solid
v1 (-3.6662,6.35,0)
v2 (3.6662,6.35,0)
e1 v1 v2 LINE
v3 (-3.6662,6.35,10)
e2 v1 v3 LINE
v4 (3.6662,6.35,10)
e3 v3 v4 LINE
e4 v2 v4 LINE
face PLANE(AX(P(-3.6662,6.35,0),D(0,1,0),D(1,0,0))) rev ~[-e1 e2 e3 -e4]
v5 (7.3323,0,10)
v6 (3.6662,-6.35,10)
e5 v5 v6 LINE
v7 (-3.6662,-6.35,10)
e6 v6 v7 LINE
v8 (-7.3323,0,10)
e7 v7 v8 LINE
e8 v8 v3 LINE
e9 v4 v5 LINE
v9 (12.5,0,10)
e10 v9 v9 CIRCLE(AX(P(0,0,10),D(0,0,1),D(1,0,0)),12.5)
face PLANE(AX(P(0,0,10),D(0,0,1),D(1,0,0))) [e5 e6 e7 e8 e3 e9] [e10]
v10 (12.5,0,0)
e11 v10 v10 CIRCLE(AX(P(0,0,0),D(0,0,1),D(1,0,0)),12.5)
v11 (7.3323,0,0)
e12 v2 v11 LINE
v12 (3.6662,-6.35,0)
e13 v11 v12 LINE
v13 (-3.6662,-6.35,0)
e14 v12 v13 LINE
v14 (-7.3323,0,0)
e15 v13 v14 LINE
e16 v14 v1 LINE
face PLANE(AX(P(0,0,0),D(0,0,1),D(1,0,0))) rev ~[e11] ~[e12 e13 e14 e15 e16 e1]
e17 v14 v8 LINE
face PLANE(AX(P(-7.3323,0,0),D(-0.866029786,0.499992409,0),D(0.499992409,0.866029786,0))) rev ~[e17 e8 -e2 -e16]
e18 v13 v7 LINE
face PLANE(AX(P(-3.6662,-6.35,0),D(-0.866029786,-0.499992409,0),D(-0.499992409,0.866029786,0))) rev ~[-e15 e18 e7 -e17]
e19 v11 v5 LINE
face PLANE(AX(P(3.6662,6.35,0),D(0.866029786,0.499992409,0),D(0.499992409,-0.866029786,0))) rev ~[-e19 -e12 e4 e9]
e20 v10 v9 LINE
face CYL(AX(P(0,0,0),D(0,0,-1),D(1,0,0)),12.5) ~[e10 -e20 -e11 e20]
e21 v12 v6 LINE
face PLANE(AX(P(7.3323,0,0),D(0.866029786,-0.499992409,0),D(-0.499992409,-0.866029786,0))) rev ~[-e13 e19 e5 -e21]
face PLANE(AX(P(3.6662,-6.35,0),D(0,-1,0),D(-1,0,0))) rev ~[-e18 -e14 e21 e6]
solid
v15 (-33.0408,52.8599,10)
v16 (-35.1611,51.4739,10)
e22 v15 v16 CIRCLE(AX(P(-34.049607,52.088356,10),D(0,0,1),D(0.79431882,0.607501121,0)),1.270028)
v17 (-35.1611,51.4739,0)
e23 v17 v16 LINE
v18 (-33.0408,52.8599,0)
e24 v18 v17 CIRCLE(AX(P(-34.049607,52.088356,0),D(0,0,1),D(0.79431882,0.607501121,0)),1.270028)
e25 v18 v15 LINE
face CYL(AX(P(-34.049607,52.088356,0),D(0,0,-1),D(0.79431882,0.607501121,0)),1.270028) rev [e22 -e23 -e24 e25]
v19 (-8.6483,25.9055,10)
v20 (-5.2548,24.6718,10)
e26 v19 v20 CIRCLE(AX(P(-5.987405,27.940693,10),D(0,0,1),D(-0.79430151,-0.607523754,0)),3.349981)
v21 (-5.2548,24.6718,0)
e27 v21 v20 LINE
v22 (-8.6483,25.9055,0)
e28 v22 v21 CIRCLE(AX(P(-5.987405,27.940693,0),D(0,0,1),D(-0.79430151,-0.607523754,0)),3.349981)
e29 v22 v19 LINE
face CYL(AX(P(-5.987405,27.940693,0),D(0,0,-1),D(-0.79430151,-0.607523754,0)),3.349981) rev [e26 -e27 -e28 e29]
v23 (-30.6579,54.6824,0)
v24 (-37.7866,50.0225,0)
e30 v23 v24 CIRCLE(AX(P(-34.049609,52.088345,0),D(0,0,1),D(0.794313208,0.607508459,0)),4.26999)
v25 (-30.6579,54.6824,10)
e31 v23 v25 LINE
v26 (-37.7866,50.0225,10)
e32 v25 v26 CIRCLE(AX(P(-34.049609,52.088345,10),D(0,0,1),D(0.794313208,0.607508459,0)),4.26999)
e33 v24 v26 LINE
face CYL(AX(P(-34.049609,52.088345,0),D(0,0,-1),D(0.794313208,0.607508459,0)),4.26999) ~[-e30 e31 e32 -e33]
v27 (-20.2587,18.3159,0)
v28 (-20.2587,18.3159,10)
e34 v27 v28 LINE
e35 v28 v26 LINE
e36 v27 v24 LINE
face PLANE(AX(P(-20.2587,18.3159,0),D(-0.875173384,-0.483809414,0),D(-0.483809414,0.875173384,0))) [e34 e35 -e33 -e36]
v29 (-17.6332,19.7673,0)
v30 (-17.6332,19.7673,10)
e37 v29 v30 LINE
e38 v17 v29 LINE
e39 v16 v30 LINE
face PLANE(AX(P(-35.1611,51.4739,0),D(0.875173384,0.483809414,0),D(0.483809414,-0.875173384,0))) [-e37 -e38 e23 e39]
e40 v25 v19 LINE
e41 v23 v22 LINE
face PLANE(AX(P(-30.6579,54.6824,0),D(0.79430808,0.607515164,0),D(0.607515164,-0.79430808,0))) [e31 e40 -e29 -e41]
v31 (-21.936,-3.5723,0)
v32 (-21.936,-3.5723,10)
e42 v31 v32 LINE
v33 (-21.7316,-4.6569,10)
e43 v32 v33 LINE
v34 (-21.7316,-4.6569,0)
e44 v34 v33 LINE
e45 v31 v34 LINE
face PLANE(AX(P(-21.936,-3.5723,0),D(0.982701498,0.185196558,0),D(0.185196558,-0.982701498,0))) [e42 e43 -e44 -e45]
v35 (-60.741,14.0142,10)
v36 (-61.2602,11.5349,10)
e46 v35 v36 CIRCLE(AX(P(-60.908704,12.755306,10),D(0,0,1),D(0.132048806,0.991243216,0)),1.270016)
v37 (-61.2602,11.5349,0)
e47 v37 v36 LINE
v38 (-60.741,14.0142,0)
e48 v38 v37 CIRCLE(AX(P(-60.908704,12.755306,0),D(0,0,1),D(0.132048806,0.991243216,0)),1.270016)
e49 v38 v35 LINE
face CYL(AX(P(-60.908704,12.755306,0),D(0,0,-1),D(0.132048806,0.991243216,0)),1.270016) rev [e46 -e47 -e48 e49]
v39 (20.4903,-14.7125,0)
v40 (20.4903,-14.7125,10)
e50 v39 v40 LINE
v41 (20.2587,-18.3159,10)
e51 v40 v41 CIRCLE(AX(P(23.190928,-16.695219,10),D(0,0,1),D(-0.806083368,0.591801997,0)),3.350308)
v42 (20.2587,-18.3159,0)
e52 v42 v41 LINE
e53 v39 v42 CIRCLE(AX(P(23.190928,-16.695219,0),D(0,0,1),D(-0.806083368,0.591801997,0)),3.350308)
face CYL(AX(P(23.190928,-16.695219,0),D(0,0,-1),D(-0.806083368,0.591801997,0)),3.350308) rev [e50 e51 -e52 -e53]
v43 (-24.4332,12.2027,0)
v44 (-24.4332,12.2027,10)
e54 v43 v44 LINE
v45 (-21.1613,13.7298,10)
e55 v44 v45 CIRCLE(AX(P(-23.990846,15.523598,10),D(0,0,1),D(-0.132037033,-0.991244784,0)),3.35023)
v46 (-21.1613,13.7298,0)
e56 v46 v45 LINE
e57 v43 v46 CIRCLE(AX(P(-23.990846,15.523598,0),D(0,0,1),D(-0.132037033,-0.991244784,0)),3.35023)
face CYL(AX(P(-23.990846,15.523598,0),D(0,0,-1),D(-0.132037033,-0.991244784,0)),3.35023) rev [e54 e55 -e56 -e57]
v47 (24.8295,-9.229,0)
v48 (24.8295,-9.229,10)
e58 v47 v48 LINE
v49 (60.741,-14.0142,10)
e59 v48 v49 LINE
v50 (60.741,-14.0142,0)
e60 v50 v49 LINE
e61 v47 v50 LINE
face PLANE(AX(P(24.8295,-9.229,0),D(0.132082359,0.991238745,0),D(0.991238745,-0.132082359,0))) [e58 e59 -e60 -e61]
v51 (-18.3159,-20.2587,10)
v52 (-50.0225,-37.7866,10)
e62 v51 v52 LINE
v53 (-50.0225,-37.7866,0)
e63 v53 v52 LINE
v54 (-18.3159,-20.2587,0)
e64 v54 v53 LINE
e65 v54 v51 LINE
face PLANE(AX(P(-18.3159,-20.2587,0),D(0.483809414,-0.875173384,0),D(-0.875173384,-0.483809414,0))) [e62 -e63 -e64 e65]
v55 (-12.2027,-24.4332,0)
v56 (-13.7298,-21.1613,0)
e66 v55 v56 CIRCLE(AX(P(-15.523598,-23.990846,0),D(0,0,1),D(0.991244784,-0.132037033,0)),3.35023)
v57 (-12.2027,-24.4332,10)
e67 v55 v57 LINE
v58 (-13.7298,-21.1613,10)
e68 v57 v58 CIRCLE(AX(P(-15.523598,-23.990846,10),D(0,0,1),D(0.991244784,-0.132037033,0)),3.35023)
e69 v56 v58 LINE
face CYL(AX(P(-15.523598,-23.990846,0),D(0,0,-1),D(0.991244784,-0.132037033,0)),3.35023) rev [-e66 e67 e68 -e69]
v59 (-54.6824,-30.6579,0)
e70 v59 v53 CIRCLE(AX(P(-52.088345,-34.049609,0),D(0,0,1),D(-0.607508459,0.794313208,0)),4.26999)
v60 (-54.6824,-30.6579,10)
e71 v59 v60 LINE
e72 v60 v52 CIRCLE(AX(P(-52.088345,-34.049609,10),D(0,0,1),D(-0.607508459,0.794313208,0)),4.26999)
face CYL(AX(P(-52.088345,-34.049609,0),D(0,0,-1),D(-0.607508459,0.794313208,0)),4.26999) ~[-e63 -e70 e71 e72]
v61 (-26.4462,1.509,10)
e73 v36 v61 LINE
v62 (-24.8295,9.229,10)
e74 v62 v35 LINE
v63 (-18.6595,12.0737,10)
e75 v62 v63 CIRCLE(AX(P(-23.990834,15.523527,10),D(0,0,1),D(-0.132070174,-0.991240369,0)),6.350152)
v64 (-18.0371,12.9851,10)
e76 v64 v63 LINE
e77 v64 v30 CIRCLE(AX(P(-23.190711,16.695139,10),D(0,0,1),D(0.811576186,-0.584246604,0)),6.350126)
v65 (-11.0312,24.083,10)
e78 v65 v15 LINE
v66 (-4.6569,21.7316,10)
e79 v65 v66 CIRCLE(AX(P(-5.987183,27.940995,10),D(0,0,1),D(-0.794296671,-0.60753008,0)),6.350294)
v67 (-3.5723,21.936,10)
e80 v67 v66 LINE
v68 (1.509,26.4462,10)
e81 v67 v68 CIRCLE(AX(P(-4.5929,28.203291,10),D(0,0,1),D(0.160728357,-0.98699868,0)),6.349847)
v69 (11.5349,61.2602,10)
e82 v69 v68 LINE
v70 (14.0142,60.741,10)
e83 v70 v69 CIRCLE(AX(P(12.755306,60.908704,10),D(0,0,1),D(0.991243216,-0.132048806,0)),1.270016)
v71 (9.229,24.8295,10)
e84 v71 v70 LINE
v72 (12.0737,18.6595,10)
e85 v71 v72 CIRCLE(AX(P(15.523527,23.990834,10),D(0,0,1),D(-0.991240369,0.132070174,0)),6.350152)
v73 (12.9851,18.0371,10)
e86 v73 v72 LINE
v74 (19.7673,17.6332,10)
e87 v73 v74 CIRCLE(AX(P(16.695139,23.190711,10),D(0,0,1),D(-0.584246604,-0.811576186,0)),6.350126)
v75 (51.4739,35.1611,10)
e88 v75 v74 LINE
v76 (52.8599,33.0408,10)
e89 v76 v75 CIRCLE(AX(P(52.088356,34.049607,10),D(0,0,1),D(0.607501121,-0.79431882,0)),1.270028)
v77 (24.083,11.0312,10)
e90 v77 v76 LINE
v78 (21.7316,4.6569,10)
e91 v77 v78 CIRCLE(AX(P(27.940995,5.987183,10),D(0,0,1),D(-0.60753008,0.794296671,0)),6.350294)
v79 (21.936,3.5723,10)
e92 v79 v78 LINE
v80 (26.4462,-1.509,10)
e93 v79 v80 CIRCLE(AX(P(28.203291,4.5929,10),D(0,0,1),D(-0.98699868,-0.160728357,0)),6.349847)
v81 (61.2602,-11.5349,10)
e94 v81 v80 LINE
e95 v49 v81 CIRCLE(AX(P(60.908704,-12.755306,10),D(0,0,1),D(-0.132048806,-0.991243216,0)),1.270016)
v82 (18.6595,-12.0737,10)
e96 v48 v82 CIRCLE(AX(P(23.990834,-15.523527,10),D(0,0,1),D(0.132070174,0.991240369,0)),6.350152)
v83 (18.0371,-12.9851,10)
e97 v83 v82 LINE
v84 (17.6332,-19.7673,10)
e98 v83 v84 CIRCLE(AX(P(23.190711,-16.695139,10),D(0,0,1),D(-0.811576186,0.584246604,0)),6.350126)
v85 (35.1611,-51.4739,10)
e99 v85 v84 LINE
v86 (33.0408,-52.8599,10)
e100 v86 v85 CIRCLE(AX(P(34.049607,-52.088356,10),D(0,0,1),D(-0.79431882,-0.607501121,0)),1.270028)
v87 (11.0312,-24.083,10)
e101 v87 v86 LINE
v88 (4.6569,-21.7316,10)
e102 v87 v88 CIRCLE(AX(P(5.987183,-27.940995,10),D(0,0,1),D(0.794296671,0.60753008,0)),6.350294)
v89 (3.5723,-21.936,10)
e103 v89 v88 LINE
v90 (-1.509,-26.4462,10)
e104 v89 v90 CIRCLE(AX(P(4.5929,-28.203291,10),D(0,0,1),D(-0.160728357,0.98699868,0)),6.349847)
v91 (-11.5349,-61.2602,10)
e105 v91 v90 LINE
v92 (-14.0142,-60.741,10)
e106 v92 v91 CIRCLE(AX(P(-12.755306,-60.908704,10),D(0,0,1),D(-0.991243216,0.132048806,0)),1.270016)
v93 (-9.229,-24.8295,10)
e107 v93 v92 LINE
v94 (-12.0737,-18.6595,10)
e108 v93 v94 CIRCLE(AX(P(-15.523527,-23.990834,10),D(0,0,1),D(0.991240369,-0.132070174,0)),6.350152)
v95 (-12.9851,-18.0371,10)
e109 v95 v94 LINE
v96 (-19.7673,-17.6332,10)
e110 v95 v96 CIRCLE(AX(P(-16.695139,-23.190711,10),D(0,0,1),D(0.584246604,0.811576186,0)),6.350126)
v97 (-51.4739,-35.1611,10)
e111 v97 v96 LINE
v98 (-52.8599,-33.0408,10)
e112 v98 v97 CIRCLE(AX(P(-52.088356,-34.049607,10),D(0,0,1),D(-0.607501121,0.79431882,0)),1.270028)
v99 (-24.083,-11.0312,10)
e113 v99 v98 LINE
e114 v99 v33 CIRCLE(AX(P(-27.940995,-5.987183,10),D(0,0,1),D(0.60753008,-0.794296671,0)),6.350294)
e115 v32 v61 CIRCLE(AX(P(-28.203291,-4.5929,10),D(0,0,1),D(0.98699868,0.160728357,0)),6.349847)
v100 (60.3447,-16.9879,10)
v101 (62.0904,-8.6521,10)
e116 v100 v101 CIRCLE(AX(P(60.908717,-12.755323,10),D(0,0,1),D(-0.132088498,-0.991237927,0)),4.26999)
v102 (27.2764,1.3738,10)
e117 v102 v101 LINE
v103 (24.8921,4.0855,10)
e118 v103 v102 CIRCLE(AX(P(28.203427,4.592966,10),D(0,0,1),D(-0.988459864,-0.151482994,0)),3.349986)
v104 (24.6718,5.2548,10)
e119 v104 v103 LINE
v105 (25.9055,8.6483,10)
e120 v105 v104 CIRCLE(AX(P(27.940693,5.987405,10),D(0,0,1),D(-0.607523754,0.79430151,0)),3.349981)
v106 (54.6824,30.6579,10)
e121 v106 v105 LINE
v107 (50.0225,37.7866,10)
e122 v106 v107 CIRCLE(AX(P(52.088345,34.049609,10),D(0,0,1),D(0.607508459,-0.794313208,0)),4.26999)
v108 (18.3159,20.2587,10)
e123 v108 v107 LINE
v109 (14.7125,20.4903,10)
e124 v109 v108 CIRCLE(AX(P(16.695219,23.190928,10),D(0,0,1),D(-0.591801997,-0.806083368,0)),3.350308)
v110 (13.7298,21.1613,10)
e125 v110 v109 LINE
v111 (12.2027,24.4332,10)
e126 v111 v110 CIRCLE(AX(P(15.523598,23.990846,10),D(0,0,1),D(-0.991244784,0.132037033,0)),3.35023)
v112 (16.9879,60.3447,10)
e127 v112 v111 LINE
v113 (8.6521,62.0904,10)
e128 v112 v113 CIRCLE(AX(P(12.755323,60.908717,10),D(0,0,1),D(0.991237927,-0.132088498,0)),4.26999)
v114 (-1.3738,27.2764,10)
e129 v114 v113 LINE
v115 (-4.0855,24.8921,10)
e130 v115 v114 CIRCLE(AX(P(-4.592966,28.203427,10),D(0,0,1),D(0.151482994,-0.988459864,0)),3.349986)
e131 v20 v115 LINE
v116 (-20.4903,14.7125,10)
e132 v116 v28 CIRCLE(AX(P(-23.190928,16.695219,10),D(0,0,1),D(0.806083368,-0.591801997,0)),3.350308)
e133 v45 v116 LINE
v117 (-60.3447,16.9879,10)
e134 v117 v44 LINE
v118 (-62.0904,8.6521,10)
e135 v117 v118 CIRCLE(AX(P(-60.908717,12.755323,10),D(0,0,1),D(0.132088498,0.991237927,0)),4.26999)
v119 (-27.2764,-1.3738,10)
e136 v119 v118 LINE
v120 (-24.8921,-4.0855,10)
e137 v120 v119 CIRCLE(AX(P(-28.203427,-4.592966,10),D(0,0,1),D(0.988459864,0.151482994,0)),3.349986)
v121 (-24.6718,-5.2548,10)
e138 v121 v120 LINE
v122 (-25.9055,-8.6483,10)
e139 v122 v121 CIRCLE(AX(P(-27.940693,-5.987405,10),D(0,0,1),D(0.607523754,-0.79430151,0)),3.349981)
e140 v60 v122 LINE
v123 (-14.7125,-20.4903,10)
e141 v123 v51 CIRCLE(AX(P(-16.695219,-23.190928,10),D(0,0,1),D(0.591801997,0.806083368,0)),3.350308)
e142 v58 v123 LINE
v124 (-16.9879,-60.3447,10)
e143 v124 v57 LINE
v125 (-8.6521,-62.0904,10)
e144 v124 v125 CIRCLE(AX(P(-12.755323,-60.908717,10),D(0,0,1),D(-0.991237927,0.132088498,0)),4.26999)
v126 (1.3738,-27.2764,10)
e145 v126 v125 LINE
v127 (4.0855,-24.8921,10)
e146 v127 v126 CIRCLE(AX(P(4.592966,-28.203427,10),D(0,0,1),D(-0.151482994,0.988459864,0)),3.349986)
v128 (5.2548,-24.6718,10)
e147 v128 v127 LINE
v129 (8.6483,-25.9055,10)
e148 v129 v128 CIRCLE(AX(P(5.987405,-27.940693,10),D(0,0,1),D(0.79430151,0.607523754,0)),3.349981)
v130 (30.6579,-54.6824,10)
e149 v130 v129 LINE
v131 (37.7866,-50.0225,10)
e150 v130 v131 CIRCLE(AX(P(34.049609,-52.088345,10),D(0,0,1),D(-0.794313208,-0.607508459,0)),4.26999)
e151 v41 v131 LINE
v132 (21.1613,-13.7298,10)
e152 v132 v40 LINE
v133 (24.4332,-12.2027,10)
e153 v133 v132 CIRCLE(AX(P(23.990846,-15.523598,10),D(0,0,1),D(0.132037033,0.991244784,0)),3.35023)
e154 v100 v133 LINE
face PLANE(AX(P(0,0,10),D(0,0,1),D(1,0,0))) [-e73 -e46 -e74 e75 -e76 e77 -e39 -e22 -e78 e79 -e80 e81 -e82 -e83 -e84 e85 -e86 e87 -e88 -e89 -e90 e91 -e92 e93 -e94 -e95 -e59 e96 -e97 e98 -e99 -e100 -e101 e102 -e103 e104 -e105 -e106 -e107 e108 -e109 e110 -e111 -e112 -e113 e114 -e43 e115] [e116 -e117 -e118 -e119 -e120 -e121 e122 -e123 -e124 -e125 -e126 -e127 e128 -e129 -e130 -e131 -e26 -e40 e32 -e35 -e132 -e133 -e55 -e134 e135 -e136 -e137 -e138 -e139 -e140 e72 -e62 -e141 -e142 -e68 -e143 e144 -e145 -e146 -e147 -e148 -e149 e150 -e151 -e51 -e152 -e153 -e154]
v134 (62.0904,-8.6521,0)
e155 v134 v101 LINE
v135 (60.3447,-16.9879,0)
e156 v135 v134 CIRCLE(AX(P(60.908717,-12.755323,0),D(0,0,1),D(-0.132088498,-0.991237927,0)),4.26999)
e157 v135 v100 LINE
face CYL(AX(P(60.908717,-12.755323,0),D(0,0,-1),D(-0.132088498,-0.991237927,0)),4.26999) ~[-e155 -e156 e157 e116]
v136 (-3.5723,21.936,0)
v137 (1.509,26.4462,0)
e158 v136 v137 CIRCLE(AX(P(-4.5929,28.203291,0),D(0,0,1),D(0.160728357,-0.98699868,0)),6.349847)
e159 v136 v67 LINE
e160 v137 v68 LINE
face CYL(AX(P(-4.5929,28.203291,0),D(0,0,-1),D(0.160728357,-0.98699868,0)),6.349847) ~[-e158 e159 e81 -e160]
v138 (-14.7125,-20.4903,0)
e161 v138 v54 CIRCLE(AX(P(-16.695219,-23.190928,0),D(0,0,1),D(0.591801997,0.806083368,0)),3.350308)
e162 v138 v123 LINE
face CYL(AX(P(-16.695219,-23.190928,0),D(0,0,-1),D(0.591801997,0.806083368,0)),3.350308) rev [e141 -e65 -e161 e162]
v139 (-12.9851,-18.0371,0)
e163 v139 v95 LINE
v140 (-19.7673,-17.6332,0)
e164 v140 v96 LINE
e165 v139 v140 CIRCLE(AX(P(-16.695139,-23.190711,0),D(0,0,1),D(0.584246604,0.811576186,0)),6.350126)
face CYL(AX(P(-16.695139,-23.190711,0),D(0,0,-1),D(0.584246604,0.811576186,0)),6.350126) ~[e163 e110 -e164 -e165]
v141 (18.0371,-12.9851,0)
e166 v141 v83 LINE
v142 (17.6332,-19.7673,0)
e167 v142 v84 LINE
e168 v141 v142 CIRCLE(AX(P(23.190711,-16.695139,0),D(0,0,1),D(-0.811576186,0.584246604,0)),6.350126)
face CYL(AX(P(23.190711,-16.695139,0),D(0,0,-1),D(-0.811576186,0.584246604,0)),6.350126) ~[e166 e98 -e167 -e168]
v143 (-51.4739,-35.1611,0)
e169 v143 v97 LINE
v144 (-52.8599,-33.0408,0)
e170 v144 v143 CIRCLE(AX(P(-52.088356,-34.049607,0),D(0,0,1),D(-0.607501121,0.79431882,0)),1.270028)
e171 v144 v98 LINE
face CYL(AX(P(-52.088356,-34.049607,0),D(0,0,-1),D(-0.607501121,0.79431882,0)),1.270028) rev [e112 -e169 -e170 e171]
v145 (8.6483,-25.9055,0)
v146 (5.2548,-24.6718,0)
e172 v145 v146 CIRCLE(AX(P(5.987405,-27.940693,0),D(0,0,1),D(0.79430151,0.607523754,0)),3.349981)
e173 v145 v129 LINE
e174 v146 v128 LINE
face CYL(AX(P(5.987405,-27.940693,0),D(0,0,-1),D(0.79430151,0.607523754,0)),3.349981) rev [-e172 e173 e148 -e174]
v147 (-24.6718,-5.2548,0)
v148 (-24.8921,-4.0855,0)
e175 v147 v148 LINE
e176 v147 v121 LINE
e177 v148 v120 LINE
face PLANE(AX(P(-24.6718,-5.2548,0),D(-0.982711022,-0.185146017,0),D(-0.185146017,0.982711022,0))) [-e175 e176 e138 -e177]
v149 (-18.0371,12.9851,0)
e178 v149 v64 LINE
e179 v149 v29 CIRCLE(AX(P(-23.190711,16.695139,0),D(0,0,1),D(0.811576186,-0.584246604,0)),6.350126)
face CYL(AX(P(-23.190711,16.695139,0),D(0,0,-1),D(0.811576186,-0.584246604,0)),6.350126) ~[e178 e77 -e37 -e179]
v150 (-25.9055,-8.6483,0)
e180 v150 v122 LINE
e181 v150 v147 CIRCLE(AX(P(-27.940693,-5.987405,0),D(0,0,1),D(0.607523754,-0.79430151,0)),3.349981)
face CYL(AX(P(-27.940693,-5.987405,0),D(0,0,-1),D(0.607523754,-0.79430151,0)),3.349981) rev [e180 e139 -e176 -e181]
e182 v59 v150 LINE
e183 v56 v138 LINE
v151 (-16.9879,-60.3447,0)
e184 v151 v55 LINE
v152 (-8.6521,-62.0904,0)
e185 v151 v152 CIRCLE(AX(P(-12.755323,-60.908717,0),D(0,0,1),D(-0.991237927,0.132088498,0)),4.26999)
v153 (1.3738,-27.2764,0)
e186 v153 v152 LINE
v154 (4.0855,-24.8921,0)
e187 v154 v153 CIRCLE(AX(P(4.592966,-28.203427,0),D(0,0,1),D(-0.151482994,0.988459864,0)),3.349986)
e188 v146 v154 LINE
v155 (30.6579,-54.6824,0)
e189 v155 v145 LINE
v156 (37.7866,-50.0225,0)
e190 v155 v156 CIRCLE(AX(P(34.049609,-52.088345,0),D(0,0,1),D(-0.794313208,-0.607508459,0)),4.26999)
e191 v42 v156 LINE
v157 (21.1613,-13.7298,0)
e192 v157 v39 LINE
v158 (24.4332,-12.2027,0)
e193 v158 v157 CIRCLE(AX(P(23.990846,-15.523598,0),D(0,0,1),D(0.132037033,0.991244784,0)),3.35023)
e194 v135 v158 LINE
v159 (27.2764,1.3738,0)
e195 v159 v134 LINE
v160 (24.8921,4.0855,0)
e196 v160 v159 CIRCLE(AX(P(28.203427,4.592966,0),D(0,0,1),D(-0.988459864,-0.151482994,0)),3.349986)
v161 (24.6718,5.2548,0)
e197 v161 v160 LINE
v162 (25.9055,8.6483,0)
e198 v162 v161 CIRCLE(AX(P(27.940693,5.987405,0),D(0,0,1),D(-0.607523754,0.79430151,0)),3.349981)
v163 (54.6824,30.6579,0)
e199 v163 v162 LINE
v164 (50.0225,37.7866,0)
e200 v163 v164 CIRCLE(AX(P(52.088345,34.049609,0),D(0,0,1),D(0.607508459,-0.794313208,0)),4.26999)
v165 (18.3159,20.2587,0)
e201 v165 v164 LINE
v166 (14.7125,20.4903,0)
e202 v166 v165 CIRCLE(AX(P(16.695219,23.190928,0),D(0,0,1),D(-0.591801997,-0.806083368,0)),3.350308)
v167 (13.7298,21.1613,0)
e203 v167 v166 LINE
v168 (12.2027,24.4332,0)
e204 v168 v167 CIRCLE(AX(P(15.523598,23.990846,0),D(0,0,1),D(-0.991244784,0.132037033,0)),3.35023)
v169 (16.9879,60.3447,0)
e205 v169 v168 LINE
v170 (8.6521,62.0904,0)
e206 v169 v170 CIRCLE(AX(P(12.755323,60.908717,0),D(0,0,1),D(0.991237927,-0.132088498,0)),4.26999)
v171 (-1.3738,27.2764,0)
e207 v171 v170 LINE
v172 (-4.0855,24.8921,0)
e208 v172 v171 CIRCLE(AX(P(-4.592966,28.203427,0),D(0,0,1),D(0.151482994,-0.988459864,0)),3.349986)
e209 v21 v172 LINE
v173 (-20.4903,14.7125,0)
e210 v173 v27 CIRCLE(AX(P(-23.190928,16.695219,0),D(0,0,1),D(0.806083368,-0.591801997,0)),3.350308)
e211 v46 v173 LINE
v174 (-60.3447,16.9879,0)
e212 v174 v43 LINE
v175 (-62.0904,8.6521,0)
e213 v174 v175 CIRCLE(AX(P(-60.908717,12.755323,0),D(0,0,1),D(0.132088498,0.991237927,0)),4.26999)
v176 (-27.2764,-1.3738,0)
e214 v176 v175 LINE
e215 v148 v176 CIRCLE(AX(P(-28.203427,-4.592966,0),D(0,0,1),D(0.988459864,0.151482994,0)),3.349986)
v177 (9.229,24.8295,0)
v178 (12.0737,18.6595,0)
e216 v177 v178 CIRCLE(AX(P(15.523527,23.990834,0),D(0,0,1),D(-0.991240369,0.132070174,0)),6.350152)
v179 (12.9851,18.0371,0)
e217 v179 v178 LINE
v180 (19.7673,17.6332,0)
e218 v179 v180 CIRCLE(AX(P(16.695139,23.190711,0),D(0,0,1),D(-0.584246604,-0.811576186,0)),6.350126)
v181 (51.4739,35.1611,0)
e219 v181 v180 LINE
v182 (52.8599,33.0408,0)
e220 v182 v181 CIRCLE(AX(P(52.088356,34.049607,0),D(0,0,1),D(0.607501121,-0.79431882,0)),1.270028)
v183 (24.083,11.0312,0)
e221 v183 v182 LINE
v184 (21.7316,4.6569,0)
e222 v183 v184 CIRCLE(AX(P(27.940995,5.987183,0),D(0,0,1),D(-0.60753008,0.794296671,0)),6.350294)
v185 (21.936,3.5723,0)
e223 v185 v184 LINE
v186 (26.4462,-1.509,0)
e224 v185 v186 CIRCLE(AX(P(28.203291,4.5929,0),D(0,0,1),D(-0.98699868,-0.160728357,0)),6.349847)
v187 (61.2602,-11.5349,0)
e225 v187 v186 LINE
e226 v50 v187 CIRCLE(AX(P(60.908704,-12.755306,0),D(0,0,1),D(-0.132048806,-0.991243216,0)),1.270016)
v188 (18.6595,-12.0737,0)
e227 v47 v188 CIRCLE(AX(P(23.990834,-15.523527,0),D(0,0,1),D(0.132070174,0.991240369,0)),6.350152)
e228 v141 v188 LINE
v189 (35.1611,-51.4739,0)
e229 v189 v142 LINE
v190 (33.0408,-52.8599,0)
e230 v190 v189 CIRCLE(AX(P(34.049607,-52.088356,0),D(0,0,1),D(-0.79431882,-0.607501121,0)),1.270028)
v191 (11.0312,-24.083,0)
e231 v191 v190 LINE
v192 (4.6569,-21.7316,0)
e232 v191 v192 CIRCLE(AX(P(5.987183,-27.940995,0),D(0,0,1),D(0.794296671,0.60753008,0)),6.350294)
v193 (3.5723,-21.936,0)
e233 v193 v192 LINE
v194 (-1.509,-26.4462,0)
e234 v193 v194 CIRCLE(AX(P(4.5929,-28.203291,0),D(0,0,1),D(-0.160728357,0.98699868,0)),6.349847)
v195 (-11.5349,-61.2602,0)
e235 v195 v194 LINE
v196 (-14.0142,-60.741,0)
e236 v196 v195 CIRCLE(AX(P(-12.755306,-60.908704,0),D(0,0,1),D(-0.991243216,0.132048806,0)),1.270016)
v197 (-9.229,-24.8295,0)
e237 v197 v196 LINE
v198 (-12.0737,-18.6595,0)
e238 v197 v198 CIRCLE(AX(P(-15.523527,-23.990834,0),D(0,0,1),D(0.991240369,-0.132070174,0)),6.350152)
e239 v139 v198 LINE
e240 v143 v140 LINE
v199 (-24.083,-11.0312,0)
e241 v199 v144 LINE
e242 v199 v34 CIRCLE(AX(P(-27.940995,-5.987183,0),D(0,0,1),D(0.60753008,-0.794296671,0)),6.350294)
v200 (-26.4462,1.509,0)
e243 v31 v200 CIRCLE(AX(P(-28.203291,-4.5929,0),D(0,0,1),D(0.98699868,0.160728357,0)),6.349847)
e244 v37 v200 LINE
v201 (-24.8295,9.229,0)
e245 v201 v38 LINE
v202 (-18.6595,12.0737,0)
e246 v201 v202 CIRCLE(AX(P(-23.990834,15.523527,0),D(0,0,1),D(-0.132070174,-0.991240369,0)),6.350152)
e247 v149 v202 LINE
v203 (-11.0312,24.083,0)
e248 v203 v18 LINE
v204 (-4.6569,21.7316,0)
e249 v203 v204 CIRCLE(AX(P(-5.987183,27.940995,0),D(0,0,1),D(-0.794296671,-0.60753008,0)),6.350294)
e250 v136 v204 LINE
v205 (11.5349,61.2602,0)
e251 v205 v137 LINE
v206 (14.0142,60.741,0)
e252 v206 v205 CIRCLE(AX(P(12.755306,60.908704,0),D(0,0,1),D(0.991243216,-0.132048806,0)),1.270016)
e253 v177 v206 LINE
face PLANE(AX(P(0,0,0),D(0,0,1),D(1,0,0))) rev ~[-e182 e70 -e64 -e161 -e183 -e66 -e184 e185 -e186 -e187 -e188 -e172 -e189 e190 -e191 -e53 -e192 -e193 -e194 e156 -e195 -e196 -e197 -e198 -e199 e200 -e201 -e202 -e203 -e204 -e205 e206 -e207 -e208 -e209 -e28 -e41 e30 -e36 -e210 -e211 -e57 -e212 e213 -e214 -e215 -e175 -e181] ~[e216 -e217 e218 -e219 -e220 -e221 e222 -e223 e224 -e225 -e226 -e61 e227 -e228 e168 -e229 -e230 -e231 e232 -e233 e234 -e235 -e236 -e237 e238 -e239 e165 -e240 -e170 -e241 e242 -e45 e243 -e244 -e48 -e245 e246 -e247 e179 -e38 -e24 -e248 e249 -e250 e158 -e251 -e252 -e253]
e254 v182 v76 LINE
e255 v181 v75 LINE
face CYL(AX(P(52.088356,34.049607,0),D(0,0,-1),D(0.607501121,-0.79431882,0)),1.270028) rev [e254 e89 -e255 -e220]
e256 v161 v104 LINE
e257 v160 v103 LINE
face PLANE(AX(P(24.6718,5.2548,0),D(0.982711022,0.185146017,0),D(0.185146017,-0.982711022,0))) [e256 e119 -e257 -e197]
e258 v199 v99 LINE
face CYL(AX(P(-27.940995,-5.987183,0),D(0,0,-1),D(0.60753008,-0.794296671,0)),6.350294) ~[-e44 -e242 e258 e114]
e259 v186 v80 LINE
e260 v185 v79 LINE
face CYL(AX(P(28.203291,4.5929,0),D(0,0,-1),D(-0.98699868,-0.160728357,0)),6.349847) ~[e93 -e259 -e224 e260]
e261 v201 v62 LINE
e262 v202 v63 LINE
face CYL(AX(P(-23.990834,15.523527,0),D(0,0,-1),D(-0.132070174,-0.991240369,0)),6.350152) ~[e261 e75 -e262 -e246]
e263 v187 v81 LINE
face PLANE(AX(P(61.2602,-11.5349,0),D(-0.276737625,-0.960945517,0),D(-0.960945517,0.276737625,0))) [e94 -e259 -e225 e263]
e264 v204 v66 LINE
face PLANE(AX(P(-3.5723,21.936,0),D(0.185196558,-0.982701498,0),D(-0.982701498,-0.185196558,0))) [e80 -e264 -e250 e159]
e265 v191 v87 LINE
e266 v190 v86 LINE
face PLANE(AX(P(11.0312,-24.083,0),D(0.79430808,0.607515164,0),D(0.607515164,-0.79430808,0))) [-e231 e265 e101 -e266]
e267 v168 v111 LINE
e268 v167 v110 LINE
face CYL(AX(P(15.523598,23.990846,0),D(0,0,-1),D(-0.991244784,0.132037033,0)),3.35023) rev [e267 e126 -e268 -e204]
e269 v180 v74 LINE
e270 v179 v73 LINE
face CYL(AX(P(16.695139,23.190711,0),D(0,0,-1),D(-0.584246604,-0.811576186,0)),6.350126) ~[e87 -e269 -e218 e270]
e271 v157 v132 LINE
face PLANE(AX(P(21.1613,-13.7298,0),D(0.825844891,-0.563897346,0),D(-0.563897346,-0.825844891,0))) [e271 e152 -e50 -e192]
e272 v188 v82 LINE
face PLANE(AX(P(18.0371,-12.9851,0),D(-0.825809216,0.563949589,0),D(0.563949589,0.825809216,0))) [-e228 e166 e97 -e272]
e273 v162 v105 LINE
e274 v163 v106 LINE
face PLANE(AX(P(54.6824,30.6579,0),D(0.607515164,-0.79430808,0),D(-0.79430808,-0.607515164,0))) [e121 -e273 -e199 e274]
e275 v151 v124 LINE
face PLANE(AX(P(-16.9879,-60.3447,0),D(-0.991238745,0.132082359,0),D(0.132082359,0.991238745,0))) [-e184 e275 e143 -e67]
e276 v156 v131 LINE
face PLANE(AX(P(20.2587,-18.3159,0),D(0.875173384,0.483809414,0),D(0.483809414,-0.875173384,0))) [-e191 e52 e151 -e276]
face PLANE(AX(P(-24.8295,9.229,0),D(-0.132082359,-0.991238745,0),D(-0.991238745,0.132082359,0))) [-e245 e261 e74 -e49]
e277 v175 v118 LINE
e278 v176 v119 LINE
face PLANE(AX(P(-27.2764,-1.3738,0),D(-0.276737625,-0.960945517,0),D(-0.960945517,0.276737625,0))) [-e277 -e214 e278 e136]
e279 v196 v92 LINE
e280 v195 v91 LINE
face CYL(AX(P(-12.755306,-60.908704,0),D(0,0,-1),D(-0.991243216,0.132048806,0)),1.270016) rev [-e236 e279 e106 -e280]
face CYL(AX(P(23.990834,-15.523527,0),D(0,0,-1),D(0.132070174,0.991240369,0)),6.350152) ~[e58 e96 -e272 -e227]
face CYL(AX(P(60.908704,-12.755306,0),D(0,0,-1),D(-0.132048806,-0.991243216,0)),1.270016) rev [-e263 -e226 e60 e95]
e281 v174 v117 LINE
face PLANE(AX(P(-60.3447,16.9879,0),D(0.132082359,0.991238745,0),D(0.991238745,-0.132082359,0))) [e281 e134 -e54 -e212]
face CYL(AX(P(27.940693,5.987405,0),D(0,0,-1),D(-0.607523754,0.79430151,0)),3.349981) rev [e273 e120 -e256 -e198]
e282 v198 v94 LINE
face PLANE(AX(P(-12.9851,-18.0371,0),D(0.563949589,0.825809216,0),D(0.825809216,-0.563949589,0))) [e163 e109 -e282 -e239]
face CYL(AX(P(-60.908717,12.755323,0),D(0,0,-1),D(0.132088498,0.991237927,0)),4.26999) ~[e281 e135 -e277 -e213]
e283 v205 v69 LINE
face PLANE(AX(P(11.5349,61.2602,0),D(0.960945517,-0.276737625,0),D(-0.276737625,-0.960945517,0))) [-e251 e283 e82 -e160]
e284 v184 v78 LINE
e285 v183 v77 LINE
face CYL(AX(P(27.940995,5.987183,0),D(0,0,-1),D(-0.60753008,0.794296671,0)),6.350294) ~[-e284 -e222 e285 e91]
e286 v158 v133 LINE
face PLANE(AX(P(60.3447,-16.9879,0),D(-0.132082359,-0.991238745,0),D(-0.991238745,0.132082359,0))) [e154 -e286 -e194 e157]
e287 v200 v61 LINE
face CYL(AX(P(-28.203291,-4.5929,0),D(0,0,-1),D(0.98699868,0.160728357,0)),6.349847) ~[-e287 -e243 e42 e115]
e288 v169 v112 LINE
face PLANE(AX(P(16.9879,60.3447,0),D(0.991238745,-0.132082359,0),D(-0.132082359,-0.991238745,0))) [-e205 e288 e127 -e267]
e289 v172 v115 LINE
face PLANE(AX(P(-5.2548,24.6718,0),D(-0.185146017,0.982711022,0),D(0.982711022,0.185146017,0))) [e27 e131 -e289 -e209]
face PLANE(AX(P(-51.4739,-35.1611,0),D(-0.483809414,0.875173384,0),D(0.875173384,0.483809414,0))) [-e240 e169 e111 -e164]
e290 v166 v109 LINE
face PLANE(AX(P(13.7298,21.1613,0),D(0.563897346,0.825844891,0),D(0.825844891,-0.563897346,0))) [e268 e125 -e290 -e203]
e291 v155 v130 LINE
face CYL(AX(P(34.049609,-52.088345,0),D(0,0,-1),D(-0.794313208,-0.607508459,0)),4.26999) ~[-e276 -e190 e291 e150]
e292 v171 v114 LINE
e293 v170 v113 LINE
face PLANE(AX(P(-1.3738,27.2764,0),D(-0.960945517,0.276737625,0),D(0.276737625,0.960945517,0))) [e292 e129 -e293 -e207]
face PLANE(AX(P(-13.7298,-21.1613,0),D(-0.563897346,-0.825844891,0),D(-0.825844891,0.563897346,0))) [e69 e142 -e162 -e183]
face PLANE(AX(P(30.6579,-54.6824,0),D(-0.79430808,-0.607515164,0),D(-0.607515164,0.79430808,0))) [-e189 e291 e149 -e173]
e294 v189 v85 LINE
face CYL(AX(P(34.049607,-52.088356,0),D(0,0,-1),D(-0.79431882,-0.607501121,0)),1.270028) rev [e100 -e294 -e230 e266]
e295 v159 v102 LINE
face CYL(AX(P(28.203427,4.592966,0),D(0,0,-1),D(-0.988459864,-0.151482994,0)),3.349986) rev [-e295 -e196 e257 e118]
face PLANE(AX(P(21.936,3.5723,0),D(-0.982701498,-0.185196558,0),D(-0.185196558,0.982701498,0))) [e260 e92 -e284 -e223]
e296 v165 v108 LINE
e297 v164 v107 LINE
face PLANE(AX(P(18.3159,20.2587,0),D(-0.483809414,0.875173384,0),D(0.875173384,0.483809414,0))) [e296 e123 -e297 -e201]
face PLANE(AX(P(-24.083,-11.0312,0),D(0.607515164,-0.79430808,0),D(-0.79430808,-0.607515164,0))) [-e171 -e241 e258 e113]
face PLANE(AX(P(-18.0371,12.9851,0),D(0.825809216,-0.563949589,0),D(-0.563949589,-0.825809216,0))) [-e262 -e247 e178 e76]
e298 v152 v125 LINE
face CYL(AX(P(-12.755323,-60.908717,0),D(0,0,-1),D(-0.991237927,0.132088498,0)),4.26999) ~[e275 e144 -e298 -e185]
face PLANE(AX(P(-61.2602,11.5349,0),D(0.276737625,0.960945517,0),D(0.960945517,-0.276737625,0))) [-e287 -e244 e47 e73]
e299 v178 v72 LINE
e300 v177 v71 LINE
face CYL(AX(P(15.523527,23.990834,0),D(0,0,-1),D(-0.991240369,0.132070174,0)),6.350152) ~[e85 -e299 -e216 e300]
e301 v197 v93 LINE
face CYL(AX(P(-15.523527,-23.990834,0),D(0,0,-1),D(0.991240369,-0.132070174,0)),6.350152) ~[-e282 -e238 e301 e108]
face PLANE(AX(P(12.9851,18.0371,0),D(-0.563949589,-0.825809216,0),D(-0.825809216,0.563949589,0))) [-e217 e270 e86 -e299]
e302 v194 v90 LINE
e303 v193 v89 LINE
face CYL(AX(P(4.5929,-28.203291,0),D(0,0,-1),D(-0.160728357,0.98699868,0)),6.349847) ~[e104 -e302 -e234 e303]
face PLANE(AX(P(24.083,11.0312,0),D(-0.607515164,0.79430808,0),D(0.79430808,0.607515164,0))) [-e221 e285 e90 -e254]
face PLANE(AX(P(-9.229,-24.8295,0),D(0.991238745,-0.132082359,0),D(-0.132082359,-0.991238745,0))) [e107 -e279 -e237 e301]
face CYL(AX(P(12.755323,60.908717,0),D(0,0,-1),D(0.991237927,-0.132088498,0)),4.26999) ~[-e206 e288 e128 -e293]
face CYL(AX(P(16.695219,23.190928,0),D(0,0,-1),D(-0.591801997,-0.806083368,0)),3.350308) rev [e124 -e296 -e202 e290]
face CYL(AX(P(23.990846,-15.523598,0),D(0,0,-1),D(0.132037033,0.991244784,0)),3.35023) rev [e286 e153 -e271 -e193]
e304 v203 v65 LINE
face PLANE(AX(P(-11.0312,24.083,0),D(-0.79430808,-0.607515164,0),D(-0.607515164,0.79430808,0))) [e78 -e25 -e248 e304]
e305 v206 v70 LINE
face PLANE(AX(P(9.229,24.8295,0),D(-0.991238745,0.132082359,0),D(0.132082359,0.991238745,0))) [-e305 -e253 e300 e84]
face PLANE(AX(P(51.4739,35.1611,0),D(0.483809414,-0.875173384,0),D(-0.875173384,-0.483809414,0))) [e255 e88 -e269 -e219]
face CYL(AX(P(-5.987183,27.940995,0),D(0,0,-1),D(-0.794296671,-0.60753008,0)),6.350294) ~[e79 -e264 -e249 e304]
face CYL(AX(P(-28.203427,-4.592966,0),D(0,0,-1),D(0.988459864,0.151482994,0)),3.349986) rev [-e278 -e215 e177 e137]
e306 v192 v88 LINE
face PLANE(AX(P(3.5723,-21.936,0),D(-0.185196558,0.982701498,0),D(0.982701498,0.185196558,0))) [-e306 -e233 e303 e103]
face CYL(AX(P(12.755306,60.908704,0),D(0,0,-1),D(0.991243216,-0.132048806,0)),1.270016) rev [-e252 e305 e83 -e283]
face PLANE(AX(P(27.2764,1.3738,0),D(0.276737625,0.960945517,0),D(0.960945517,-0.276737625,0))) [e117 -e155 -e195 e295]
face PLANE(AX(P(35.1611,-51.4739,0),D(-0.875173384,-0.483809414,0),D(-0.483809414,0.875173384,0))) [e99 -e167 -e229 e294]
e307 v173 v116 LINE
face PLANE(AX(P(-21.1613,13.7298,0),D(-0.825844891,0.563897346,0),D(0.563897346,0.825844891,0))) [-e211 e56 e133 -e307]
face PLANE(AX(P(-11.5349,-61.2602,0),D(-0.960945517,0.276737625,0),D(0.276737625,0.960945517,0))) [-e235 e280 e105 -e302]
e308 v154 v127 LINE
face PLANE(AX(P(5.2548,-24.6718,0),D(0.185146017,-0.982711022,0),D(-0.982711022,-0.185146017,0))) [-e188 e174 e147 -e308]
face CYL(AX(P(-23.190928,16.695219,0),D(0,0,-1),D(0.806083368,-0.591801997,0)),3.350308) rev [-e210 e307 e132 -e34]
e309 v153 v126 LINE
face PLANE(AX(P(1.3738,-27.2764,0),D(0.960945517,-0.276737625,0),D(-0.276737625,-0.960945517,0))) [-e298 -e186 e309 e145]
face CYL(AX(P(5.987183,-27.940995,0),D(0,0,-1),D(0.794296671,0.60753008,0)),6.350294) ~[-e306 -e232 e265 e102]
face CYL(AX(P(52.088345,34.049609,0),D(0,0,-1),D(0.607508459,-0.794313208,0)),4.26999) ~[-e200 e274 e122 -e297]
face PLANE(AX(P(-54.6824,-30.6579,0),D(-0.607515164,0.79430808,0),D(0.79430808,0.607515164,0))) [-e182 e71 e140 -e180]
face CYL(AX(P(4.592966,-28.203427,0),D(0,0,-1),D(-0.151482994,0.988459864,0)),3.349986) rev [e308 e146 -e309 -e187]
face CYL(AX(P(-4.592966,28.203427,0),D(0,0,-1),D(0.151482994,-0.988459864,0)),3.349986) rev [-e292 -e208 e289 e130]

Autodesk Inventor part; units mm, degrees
ref_plane "YZ Plane" through (0, 0, 0) normal (1, 0, 0) x (0, 1, 0)
ref_plane "XZ Plane" through (0, 0, 0) normal (0, 1, 0) x (-1, 0, 0)
ref_plane "XY Plane" through (0, 0, 0) normal (0, 0, 1) x (1, 0, 0)
sketch "Esboço1" plane through (0, 0, 0) normal (0, 0, 1) x (1, 0, 0)
  line L0 (51.4739, 35.1611) -> (19.7673, 17.6332) projected
  arc A0 (12.9851, 18.0371) -> (19.7673, 17.6332) centre (16.6951, 23.1906) ccw projected
  line L1 (12.9851, 18.0371) -> (12.0737, 18.6595) projected
  arc A1 (9.229, 24.8295) -> (12.0737, 18.6595) centre (15.5233, 23.9908) ccw projected
  line L2 (9.229, 24.8295) -> (14.0142, 60.741) projected
  arc A2 (14.0142, 60.741) -> (11.5349, 61.2602) centre (12.7553, 60.9087) ccw projected
  line L3 (11.5349, 61.2602) -> (1.509, 26.4462) projected
  arc A3 (-3.5723, 21.936) -> (1.509, 26.4462) centre (-4.593, 28.2035) ccw projected
  line L4 (-3.5723, 21.936) -> (-4.6569, 21.7316) projected
  arc A4 (-11.0312, 24.083) -> (-4.6569, 21.7316) centre (-5.9874, 27.9407) ccw projected
  line L5 (-11.0312, 24.083) -> (-33.0408, 52.8599) projected
  arc A5 (-33.0408, 52.8599) -> (-35.1611, 51.4739) centre (-34.0496, 52.0884) ccw projected
  line L6 (-35.1611, 51.4739) -> (-17.6332, 19.7673) projected
  arc A6 (-18.0371, 12.9851) -> (-17.6332, 19.7673) centre (-23.1906, 16.6951) ccw projected
  line L7 (-18.0371, 12.9851) -> (-18.6595, 12.0737) projected
  arc A7 (-24.8295, 9.229) -> (-18.6595, 12.0737) centre (-23.9908, 15.5233) ccw projected
  line L8 (-24.8295, 9.229) -> (-60.741, 14.0142) projected
  arc A8 (-60.741, 14.0142) -> (-61.2602, 11.5349) centre (-60.9087, 12.7553) ccw projected
  line L9 (-61.2602, 11.5349) -> (-26.4462, 1.509) projected
  arc A9 (-21.936, -3.5723) -> (-26.4462, 1.509) centre (-28.2035, -4.593) ccw projected
  line L10 (-21.936, -3.5723) -> (-21.7316, -4.6569) projected
  arc A10 (-24.083, -11.0312) -> (-21.7316, -4.6569) centre (-27.9407, -5.9874) ccw projected
  line L11 (-24.083, -11.0312) -> (-52.8599, -33.0408) projected
  arc A11 (-52.8599, -33.0408) -> (-51.4739, -35.1611) centre (-52.0884, -34.0496) ccw projected
  line L12 (-51.4739, -35.1611) -> (-19.7673, -17.6332) projected
  arc A12 (-12.9851, -18.0371) -> (-19.7673, -17.6332) centre (-16.6951, -23.1906) ccw projected
  line L13 (-12.9851, -18.0371) -> (-12.0737, -18.6595) projected
  arc A13 (-9.229, -24.8295) -> (-12.0737, -18.6595) centre (-15.5233, -23.9908) ccw projected
  line L14 (-9.229, -24.8295) -> (-14.0142, -60.741) projected
  arc A14 (-14.0142, -60.741) -> (-11.5349, -61.2602) centre (-12.7553, -60.9087) ccw projected
  line L15 (-11.5349, -61.2602) -> (-1.509, -26.4462) projected
  arc A15 (3.5723, -21.936) -> (-1.509, -26.4462) centre (4.593, -28.2035) ccw projected
  line L16 (3.5723, -21.936) -> (4.6569, -21.7316) projected
  arc A16 (11.0312, -24.083) -> (4.6569, -21.7316) centre (5.9874, -27.9407) ccw projected
  line L17 (11.0312, -24.083) -> (33.0408, -52.8599) projected
  arc A17 (33.0408, -52.8599) -> (35.1611, -51.4739) centre (34.0496, -52.0884) ccw projected
  line L18 (35.1611, -51.4739) -> (17.6332, -19.7673) projected
  arc A18 (18.0371, -12.9851) -> (17.6332, -19.7673) centre (23.1906, -16.6951) ccw projected
  line L19 (18.0371, -12.9851) -> (18.6595, -12.0737) projected
  arc A19 (24.8295, -9.229) -> (18.6595, -12.0737) centre (23.9908, -15.5233) ccw projected
  line L20 (24.8295, -9.229) -> (60.741, -14.0142) projected
  arc A20 (60.741, -14.0142) -> (61.2602, -11.5349) centre (60.9087, -12.7553) ccw projected
  line L21 (61.2602, -11.5349) -> (26.4462, -1.509) projected
  arc A21 (21.936, 3.5723) -> (26.4462, -1.509) centre (28.2035, 4.593) ccw projected
  line L22 (21.936, 3.5723) -> (21.7316, 4.6569) projected
  arc A22 (24.083, 11.0312) -> (21.7316, 4.6569) centre (27.9407, 5.9874) ccw projected
  line L23 (24.083, 11.0312) -> (52.8599, 33.0408) projected
  arc A23 (52.8599, 33.0408) -> (51.4739, 35.1611) centre (52.0884, 34.0496) ccw projected
  line L24 (54.6824, 30.6579) -> (25.9055, 8.6483)
  arc A24 (25.9055, 8.6483) -> (24.6718, 5.2548) centre (27.9407, 5.9874) ccw
  line L25 (24.6718, 5.2548) -> (24.8921, 4.0855)
  arc A25 (24.8921, 4.0855) -> (27.2764, 1.3738) centre (28.2035, 4.593) ccw
  line L26 (27.2764, 1.3738) -> (62.0904, -8.6521)
  arc A26 (60.3447, -16.9879) -> (62.0904, -8.6521) centre (60.9087, -12.7553) ccw
  line L27 (60.3447, -16.9879) -> (24.4332, -12.2027)
  arc A27 (24.4332, -12.2027) -> (21.1613, -13.7298) centre (23.9908, -15.5233) ccw
  line L28 (21.1613, -13.7298) -> (20.4903, -14.7125)
  arc A28 (20.4903, -14.7125) -> (20.2587, -18.3159) centre (23.1906, -16.6951) ccw
  line L29 (20.2587, -18.3159) -> (37.7866, -50.0225)
  arc A29 (30.6579, -54.6824) -> (37.7866, -50.0225) centre (34.0496, -52.0884) ccw
  line L30 (30.6579, -54.6824) -> (8.6483, -25.9055)
  arc A30 (8.6483, -25.9055) -> (5.2548, -24.6718) centre (5.9874, -27.9407) ccw
  line L31 (5.2548, -24.6718) -> (4.0855, -24.8921)
  arc A31 (4.0855, -24.8921) -> (1.3738, -27.2764) centre (4.593, -28.2035) ccw
  line L32 (1.3738, -27.2764) -> (-8.6521, -62.0904)
  arc A32 (-16.9879, -60.3447) -> (-8.6521, -62.0904) centre (-12.7553, -60.9087) ccw
  line L33 (-16.9879, -60.3447) -> (-12.2027, -24.4332)
  arc A33 (-12.2027, -24.4332) -> (-13.7298, -21.1613) centre (-15.5233, -23.9908) ccw
  line L34 (-13.7298, -21.1613) -> (-14.7125, -20.4903)
  arc A34 (-14.7125, -20.4903) -> (-18.3159, -20.2587) centre (-16.6951, -23.1906) ccw
  line L35 (-18.3159, -20.2587) -> (-50.0225, -37.7866)
  arc A35 (-54.6824, -30.6579) -> (-50.0225, -37.7866) centre (-52.0884, -34.0496) ccw
  line L36 (-54.6824, -30.6579) -> (-25.9055, -8.6483)
  arc A36 (-25.9055, -8.6483) -> (-24.6718, -5.2548) centre (-27.9407, -5.9874) ccw
  line L37 (-24.6718, -5.2548) -> (-24.8921, -4.0855)
  arc A37 (-24.8921, -4.0855) -> (-27.2764, -1.3738) centre (-28.2035, -4.593) ccw
  line L38 (-27.2764, -1.3738) -> (-62.0904, 8.6521)
  arc A38 (-60.3447, 16.9879) -> (-62.0904, 8.6521) centre (-60.9087, 12.7553) ccw
  line L39 (-60.3447, 16.9879) -> (-24.4332, 12.2027)
  arc A39 (-24.4332, 12.2027) -> (-21.1613, 13.7298) centre (-23.9908, 15.5233) ccw
  line L40 (-21.1613, 13.7298) -> (-20.4903, 14.7125)
  arc A40 (-20.4903, 14.7125) -> (-20.2587, 18.3159) centre (-23.1906, 16.6951) ccw
  line L41 (-20.2587, 18.3159) -> (-37.7866, 50.0225)
  arc A41 (-30.6579, 54.6824) -> (-37.7866, 50.0225) centre (-34.0496, 52.0884) ccw
  line L42 (-30.6579, 54.6824) -> (-8.6483, 25.9055)
  arc A42 (-8.6483, 25.9055) -> (-5.2548, 24.6718) centre (-5.9874, 27.9407) ccw
  line L43 (-5.2548, 24.6718) -> (-4.0855, 24.8921)
  arc A43 (-4.0855, 24.8921) -> (-1.3738, 27.2764) centre (-4.593, 28.2035) ccw
  line L44 (-1.3738, 27.2764) -> (8.6521, 62.0904)
  arc A44 (16.9879, 60.3447) -> (8.6521, 62.0904) centre (12.7553, 60.9087) ccw
  line L45 (16.9879, 60.3447) -> (12.2027, 24.4332)
  arc A45 (12.2027, 24.4332) -> (13.7298, 21.1613) centre (15.5233, 23.9908) ccw
  line L46 (13.7298, 21.1613) -> (14.7125, 20.4903)
  arc A46 (14.7125, 20.4903) -> (18.3159, 20.2587) centre (16.6951, 23.1906) ccw
  line L47 (18.3159, 20.2587) -> (50.0225, 37.7866)
  arc A47 (54.6824, 30.6579) -> (50.0225, 37.7866) centre (52.0884, 34.0496) ccw
  circle A48 centre (0, 0) radius 12.5
  line L48 (7.3323, 0) -> (3.6662, -6.35)
  line L49 (3.6662, -6.35) -> (-3.6662, -6.35)
  line L50 (-3.6662, -6.35) -> (-7.3323, 0)
  line L51 (-7.3323, 0) -> (-3.6662, 6.35)
  line L52 (-3.6662, 6.35) -> (3.6662, 6.35)
  line L53 (3.6662, 6.35) -> (7.3323, 0)
  dimension "d0" = 25
  dimension "d1" = 12.7
  dimension "d2" = 36.2289
  dimension "d3" = 4.27
  dimension "d4" = 3.35
  dimension "d6" = 3.6108
  dimension "d7" = 3.6108
  dimension "d8" = 3.6108
  dimension "d9" = 3.6108
  dimension "d10" = 3.6034
  dimension "d11" = 3.6108
  dimension "d12" = 3.6034
extrude "Extrusão1" add sketch "Esboço1" along normal blind 10
properties part number "molde star"
